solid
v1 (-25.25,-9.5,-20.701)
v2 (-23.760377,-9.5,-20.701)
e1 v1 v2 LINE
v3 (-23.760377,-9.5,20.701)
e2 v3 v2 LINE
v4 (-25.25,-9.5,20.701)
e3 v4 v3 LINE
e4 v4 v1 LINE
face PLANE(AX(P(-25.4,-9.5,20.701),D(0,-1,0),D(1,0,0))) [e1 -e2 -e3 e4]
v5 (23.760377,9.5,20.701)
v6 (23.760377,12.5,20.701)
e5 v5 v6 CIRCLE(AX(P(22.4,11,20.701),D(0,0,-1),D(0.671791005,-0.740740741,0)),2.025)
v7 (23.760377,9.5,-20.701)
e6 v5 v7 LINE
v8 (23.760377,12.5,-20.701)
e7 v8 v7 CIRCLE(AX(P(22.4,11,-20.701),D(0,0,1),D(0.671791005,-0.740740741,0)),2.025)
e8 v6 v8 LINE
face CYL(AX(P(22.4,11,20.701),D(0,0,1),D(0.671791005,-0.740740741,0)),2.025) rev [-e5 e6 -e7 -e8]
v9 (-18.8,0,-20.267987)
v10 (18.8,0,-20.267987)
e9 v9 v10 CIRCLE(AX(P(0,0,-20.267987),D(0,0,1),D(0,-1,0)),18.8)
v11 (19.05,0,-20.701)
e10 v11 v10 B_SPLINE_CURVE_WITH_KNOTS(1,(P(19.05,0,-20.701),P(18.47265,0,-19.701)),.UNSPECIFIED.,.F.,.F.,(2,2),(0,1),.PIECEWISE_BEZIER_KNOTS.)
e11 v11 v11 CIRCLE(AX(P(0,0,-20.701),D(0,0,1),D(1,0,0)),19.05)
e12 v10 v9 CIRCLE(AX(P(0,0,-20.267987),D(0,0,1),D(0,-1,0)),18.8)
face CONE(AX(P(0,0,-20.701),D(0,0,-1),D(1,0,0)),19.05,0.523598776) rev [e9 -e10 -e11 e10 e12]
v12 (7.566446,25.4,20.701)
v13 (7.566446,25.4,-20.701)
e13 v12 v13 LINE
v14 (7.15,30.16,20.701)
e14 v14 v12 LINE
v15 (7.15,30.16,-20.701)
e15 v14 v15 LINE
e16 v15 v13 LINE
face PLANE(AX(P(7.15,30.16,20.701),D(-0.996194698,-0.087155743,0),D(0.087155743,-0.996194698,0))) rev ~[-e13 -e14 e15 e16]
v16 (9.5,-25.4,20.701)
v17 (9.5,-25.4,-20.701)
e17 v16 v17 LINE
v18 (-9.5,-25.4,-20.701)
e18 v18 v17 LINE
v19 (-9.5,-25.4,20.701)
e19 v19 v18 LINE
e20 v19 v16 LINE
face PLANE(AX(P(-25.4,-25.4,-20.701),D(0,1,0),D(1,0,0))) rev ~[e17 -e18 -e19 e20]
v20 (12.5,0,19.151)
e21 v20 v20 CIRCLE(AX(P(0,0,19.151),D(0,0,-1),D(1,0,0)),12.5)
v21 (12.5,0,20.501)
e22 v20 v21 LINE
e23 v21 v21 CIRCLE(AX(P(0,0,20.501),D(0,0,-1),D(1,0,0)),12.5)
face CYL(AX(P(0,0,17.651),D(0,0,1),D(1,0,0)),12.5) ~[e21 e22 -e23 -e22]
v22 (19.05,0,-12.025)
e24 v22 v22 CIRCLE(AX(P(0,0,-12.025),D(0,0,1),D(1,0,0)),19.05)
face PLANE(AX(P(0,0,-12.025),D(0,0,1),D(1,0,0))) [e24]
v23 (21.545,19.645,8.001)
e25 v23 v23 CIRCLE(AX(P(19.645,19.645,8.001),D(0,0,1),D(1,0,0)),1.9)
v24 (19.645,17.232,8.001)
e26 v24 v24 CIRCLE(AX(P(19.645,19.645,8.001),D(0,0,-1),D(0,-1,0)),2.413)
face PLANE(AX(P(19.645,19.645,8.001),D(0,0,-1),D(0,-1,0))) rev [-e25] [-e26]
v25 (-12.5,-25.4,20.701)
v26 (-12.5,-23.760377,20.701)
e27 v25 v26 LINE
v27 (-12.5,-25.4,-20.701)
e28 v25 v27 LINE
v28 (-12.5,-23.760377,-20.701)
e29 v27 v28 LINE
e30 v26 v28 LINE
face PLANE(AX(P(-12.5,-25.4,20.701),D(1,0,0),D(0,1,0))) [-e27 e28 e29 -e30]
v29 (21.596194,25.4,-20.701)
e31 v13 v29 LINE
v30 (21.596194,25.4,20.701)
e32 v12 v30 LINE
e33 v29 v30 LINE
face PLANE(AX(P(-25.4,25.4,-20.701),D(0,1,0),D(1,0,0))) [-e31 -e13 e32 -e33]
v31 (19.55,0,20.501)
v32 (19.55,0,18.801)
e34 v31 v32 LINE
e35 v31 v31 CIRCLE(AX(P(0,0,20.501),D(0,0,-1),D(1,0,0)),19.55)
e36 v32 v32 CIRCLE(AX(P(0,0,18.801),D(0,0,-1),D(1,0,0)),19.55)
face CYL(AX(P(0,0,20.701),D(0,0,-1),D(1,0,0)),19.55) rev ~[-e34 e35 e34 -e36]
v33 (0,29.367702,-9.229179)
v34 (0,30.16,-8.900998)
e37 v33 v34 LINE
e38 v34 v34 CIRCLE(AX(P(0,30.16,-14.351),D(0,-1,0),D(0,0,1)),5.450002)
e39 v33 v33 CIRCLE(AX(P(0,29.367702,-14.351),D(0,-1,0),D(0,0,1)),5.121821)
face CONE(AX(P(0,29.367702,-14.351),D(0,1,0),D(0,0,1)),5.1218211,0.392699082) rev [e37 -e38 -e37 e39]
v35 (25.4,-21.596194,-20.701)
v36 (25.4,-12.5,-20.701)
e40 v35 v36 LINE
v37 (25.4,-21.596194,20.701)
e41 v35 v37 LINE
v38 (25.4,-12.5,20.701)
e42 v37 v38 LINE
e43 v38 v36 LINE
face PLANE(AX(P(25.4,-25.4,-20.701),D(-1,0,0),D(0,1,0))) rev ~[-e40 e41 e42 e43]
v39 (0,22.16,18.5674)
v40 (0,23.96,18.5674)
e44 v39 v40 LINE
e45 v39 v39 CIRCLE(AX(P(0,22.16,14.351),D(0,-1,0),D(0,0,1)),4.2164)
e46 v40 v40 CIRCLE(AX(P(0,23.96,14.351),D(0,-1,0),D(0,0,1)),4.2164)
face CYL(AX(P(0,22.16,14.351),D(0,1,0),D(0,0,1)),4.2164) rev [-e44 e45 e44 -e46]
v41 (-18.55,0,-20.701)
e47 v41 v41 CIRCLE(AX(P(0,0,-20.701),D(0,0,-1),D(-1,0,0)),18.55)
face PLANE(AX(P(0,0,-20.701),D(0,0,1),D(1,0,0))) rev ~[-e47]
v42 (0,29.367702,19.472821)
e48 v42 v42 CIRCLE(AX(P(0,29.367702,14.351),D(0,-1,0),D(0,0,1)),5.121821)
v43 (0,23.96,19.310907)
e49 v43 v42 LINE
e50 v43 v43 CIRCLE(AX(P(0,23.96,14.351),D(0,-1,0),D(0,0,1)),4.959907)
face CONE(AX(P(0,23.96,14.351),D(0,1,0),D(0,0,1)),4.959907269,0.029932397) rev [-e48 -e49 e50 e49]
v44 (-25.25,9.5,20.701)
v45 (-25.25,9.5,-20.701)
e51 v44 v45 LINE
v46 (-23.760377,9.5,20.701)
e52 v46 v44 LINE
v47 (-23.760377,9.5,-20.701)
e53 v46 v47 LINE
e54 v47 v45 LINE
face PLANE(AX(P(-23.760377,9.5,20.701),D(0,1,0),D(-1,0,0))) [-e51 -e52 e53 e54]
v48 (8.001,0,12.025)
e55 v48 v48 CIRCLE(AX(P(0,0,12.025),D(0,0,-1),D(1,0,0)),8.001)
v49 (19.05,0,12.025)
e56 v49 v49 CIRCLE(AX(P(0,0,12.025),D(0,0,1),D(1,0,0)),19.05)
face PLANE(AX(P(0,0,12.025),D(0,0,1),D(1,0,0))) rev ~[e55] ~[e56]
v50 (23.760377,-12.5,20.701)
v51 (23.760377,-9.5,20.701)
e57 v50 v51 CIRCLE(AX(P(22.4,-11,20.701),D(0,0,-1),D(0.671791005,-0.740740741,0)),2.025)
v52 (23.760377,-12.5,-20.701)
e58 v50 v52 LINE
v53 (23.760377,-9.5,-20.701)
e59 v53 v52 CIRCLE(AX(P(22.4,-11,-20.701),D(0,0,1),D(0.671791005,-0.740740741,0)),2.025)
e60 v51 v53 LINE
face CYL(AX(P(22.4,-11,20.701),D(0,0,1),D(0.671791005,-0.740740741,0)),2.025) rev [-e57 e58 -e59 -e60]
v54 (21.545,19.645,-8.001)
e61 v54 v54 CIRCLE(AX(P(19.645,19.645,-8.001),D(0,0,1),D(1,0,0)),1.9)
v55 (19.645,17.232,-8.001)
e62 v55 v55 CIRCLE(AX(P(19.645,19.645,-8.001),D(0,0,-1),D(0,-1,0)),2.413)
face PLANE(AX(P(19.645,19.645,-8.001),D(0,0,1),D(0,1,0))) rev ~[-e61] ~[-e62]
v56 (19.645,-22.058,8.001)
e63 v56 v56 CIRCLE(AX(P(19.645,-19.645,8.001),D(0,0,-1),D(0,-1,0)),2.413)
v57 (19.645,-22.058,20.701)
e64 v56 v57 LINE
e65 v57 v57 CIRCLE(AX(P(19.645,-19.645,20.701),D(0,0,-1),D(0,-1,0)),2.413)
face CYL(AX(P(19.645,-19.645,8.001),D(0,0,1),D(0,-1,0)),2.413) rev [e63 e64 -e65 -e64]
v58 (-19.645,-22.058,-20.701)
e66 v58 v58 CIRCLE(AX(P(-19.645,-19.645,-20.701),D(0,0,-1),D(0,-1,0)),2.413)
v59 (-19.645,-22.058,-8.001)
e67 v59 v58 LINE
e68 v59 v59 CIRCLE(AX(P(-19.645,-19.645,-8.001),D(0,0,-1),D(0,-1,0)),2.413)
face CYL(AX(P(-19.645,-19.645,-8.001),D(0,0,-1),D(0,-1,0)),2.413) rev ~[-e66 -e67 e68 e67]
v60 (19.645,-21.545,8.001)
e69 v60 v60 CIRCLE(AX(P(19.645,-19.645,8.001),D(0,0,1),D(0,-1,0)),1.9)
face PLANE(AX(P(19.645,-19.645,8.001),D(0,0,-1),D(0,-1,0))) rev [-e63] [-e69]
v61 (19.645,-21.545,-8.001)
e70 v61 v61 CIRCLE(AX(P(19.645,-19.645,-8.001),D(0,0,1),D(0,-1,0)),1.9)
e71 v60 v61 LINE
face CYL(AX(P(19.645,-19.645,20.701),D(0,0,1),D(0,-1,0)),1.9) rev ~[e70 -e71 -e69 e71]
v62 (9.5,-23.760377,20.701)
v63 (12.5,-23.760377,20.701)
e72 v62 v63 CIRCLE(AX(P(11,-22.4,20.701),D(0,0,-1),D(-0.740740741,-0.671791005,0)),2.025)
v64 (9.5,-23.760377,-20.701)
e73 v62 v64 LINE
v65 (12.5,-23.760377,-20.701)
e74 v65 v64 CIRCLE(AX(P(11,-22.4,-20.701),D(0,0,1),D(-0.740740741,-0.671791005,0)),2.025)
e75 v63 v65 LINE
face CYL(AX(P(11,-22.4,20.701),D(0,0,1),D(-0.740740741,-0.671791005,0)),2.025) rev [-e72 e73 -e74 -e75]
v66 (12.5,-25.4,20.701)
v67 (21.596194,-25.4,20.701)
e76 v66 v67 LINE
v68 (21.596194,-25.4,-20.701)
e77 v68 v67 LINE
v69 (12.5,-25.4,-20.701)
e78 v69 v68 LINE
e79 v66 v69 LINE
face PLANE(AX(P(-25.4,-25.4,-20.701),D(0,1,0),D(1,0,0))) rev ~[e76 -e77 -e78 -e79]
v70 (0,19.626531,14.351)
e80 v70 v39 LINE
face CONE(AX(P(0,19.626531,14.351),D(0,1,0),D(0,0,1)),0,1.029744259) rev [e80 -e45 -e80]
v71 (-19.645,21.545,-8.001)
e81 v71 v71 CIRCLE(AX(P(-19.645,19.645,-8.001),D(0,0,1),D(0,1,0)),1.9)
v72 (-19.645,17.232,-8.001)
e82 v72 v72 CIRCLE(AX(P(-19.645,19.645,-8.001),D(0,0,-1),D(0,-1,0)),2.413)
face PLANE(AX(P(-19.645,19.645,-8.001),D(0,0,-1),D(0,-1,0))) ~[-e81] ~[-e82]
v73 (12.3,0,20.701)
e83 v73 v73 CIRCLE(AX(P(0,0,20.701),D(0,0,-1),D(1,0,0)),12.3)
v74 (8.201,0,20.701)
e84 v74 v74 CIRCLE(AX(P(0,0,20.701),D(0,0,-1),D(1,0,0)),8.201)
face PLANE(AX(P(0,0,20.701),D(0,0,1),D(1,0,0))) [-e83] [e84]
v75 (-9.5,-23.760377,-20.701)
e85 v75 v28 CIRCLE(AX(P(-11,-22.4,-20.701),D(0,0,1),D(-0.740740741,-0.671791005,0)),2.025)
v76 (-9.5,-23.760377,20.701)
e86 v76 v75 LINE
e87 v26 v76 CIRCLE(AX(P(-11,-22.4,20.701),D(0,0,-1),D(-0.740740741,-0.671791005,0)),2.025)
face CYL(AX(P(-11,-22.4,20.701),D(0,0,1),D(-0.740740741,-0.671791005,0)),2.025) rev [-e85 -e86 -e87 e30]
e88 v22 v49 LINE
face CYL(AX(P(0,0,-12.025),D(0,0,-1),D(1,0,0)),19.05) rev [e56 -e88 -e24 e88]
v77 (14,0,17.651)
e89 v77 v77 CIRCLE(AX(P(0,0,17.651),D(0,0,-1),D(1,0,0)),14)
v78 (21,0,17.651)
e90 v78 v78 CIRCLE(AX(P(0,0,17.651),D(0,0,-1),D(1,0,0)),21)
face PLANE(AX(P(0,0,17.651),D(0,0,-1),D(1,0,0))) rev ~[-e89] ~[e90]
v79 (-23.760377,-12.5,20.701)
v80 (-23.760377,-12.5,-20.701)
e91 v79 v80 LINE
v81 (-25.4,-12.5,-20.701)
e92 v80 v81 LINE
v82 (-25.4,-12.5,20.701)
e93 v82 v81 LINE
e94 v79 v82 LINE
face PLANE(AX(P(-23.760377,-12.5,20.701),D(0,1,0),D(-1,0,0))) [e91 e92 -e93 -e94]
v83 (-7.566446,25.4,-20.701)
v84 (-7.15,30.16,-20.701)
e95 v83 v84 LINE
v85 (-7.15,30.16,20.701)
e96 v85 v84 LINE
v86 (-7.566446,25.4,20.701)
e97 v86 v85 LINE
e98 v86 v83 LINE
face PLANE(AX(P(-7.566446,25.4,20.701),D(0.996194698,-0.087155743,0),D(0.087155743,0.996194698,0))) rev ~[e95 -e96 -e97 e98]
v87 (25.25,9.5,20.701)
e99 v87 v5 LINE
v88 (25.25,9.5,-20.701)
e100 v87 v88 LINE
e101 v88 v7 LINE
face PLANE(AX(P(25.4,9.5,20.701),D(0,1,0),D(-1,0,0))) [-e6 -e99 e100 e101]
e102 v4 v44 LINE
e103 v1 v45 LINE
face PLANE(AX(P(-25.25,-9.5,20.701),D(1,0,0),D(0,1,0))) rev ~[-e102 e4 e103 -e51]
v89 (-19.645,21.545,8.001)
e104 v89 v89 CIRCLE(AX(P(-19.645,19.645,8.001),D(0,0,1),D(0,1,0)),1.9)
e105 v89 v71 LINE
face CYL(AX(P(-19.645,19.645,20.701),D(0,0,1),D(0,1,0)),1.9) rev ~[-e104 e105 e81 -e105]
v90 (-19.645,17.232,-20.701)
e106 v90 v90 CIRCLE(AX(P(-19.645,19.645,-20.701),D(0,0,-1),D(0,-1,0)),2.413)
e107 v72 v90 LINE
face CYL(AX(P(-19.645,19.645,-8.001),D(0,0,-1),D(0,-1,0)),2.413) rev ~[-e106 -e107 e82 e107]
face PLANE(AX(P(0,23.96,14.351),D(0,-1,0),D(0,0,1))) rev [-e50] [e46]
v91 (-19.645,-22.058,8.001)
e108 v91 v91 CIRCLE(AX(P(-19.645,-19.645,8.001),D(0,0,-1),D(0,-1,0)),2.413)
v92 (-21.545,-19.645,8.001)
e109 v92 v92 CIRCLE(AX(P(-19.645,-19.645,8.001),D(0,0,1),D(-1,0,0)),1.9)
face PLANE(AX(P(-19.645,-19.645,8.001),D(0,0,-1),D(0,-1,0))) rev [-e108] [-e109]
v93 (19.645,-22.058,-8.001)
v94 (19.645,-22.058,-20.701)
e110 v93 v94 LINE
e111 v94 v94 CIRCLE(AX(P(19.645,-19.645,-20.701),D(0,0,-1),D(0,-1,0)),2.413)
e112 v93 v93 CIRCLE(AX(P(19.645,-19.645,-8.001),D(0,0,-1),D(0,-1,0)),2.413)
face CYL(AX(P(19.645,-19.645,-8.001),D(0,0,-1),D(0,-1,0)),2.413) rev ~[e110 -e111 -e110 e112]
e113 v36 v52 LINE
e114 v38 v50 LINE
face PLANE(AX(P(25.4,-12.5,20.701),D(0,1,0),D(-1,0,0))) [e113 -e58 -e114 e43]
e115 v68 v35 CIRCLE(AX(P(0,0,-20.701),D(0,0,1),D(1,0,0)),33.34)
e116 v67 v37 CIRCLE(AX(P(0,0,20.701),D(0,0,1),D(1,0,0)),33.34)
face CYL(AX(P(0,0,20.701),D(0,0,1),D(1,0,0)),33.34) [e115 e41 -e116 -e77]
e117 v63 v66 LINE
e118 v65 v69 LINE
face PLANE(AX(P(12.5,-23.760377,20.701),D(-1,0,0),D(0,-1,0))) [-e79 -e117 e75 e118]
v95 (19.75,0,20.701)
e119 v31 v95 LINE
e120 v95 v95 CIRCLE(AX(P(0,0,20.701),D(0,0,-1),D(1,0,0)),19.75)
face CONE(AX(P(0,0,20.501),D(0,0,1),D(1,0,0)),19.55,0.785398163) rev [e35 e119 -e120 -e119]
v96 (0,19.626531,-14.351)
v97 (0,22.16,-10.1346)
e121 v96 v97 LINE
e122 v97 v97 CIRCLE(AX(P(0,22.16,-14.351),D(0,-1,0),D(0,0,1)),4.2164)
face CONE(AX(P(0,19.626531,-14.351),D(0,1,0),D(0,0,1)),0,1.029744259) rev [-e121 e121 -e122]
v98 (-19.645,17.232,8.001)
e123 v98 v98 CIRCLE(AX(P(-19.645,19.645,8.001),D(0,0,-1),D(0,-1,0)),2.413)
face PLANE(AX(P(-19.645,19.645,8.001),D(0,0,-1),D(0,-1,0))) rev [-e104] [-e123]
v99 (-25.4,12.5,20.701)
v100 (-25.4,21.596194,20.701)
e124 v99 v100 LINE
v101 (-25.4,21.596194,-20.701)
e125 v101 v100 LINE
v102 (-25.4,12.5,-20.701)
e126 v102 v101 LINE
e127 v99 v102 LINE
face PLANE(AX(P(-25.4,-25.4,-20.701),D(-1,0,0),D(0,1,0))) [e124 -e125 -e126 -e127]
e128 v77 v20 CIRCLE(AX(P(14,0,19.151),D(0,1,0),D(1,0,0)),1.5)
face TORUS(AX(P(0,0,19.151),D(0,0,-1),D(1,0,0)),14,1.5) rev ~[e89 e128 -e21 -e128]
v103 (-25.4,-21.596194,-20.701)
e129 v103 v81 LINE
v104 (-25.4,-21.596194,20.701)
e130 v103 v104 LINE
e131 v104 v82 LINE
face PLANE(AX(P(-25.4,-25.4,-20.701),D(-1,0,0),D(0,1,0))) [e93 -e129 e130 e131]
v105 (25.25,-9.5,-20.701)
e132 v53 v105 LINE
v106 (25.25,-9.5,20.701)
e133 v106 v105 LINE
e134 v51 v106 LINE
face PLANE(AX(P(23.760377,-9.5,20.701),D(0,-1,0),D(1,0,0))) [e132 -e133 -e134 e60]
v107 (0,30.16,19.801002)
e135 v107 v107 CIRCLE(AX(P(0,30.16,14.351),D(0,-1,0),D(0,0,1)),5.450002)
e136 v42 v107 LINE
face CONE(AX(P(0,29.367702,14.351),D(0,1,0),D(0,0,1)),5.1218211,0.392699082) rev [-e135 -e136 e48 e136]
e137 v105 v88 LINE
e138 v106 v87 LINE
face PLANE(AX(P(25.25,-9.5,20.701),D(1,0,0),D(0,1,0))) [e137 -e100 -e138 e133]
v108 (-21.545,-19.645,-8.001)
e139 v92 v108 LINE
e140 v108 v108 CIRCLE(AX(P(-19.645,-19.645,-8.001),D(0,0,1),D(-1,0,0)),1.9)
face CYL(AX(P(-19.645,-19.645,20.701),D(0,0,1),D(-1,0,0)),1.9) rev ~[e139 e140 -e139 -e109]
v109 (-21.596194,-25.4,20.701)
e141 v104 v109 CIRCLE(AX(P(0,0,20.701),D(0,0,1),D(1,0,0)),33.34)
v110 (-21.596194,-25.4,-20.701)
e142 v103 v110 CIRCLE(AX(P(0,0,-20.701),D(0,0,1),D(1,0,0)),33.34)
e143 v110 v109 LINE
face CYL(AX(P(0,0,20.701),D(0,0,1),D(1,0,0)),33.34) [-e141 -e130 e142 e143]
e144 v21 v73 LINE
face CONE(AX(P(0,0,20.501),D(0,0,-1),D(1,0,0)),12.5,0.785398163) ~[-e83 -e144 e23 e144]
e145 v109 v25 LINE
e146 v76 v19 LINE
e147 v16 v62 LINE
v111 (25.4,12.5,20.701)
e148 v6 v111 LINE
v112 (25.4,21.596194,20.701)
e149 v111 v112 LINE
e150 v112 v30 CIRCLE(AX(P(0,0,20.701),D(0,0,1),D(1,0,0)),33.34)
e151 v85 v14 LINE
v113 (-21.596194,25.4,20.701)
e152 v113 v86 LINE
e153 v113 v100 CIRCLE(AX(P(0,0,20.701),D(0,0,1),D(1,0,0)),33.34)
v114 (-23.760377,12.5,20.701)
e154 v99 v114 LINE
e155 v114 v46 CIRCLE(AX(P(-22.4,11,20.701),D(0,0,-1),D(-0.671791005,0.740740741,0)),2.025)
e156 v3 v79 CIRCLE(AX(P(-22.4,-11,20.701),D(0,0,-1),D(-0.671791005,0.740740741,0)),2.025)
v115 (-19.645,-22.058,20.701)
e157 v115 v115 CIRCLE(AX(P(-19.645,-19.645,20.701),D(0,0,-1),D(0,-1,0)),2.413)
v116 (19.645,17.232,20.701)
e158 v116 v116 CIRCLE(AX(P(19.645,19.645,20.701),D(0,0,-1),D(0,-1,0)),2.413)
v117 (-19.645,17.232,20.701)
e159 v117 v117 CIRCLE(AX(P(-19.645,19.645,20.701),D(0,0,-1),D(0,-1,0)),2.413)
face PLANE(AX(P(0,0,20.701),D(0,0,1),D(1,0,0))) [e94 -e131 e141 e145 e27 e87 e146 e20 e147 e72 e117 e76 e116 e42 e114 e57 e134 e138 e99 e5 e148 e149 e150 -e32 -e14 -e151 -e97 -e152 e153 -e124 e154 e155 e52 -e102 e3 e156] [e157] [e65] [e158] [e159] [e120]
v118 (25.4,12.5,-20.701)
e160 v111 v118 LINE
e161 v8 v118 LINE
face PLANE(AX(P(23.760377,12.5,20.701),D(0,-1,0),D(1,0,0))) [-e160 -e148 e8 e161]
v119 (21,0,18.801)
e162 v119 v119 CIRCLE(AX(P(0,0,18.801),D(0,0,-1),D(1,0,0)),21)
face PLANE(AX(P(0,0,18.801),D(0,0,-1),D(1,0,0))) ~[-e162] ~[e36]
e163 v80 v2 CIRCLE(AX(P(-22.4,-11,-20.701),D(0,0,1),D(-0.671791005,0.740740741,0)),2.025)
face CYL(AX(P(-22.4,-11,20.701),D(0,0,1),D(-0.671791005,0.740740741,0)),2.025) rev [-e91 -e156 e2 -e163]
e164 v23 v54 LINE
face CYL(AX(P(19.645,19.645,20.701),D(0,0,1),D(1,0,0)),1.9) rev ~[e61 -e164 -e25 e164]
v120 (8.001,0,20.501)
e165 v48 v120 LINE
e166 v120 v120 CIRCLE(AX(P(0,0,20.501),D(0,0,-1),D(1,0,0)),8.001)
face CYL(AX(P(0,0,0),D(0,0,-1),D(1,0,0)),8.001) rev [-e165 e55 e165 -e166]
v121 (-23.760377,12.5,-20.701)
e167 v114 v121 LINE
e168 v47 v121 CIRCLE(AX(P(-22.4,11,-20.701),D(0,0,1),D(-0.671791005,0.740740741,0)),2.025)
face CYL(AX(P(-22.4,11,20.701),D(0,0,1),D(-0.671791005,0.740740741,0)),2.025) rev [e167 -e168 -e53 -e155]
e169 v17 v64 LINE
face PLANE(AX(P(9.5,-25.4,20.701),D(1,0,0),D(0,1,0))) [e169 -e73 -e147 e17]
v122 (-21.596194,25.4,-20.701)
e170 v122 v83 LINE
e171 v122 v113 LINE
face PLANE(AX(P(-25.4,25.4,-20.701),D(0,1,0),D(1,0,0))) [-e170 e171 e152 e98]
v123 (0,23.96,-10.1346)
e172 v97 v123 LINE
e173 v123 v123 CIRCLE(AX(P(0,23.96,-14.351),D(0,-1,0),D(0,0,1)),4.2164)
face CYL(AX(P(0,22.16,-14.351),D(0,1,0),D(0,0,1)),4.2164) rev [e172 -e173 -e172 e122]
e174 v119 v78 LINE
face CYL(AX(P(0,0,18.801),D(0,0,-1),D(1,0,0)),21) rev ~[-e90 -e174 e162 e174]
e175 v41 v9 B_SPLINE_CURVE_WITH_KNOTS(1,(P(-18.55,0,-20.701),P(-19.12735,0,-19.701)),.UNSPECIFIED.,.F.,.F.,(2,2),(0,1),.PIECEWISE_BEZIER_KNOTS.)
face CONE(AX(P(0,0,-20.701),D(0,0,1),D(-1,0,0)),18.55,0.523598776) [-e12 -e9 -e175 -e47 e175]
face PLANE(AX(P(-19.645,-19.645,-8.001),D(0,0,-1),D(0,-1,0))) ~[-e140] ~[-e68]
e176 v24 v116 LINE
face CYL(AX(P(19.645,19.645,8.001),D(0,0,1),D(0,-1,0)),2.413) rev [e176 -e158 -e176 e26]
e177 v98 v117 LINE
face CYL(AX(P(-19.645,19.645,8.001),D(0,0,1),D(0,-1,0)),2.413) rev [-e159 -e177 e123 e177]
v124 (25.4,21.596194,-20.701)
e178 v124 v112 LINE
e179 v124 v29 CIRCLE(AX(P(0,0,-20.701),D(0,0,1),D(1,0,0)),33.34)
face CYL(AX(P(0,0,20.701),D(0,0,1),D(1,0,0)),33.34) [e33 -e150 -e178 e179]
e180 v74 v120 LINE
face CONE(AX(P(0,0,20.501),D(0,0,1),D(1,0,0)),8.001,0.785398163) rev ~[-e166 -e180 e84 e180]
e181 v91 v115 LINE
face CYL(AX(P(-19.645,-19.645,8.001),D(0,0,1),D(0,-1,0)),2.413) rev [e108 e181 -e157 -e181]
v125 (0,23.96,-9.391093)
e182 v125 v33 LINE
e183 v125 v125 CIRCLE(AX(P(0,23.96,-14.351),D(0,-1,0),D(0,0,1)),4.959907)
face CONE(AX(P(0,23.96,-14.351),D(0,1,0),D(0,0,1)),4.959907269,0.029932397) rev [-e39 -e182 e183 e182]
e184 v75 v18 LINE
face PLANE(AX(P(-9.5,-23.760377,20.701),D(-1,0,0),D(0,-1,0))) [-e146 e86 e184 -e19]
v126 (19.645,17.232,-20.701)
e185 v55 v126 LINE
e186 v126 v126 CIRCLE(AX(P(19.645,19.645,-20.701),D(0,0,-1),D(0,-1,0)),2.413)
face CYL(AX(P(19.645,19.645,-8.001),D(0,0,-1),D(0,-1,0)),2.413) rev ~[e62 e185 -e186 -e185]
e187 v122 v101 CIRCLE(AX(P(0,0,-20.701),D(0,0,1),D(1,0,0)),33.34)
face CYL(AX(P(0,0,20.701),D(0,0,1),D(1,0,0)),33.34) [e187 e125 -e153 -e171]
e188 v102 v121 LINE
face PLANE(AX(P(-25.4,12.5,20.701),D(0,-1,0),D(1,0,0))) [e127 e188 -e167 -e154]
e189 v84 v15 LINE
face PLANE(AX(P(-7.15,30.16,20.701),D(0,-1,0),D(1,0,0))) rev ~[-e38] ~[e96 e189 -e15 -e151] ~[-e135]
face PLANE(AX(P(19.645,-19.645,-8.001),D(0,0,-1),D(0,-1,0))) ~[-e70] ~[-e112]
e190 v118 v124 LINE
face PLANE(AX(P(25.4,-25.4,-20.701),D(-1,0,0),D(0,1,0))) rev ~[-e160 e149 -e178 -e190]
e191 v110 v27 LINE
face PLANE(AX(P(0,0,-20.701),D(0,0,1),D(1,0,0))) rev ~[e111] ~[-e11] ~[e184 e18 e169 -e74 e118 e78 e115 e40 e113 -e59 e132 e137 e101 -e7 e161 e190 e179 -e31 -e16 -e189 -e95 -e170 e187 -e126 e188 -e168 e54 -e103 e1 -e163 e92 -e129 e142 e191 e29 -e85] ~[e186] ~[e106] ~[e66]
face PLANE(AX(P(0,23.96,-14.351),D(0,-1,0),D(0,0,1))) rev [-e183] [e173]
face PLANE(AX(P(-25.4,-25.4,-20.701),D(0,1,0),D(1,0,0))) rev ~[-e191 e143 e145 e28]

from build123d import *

# Parameters (mm, degrees)
EXTRUDE1_DEPTH                               = 20.701
EXTRUDE1_DEPTH_BACK                          = 20.701
SKETCH1_W                                    = 50.8
SKETCH1_H                                    = 50.8
F_056_250_NOSE_CHAMFER_R                     = 1.5
SKETCH13_R                                   = 35.921024484
SKETCH13_R_2                                 = 33.34
F_075_250_TUBE_EDGE_ROUNDOVER_DEPTH          = 55.812823354
F_075_250_PORT_BOSS_DEPTH                    = 41.402
F_106_200_PORT_1_8_NPT_AT_2_COUNT            = 2
F_106_200_PORT_1_8_NPT_AT_2_PITCH            = 28.702
F_075_250_SWITCH_GROOVE_DEPTH                = 58.174392905
F_075_106_SWITCH_GROOVE_CIRC_PATTERN_COUNT   = 3
F_075_106_SWITCH_GROOVE_CIRC_PATTERN_ANGLE   = 180
SKETCH19_W                                   = 0.15
SKETCH19_H                                   = 19
F_075_250_THIN_SIDE_CUTS_DEPTH               = 58.174392905
SKETCH20_R                                   = 1.9
F_075_250_MOUNT_THRU_HOLE_DEPTH              = 58.174392905
F_075_250_MOUNT_THRU_HOLE_CIRC_PATTERN_COUNT = 4
F_150_10_24_A_MOUNT_TAPPED_AT_2_COUNT        = 2
F_150_10_24_A_MOUNT_TAPPED_AT_2_PITCH        = 39.29
F_150_10_24_A_MOUNT_TAPPED_AT_3_COUNT        = 2
F_150_10_24_A_MOUNT_TAPPED_AT_3_PITCH        = 55.564450866
F_150_10_24_A_MOUNT_TAPPED_AT_4_COUNT        = 2
F_150_10_24_A_MOUNT_TAPPED_AT_4_PITCH        = 39.29
F_056_250_START                              = -12.025
SKETCH22_R                                   = 19.05
F_056_250_STROKE_CHAMBER_DEPTH               = 24.05
SKETCH23_R                                   = 8.001
F_056_250_ROD_THRU_BORE_DEPTH                = 45.534447353
SKETCH41_R                                   = 19.05
SKETCH41_R_2                                 = 18.55
END_PLATE_DEPTH                              = 1
END_PLATE_TAPER                              = 30
F_056_250_COLLAR_CHAMFER_SIZE                = 0.2


with BuildPart() as part:
    # Sketch1 → Extrude1 (new, two sides: drawn at the far end of the back side and taken through both)
    with BuildSketch(Plane.XY.offset(-EXTRUDE1_DEPTH_BACK)):
        Rectangle(SKETCH1_W, SKETCH1_H)
    extrude(amount=EXTRUDE1_DEPTH + EXTRUDE1_DEPTH_BACK)

    # Sketch33 → 056-250 Front Recess (revolve, cut)
    with BuildSketch(Plane(origin=(0, 0, 0), x_dir=(0, 0, -1), z_dir=(1, 0, 0)), mode=Mode.PRIVATE) as f_056_250_front_recess_sk:
        Polygon((-20.701, 19.55), (-18.801, 19.55), (-18.801, 21), (-17.651, 21), (-17.651, 12.5), (-20.701, 12.5), align=None)
    revolve(f_056_250_front_recess_sk.sketch.rotate(Axis((0, 0, 61.220394237), (0, 0, -1)), 90), axis=Axis((0, 0, 61.220394237), (0, 0, -1)), mode=Mode.SUBTRACT)

    # 056-250 Nose Chamfer
    f_056_250_nose_chamfer_edges = [part.edges().sort_by_distance(p)[0] for p in [
        (-12.5, 0, 17.651),
    ]]
    fillet(f_056_250_nose_chamfer_edges, radius=F_056_250_NOSE_CHAMFER_R)

    # Sketch13 → 075-250 Tube Edge Roundover (cut, through all)
    with BuildSketch(Plane.XY.offset(20.701)):
        Circle(SKETCH13_R)
        Circle(SKETCH13_R_2, mode=Mode.SUBTRACT)
    extrude(amount=-F_075_250_TUBE_EDGE_ROUNDOVER_DEPTH, mode=Mode.SUBTRACT)

    # Sketch14 → 075-250 Port Boss (add)
    with BuildSketch(Plane.XY.offset(20.701)):
        Polygon((-7.15, 30.16), (7.15, 30.16), (7.566446038, 25.4), (-7.566446038, 25.4), align=None)
    extrude(amount=-F_075_250_PORT_BOSS_DEPTH)

    # Sketch36 → 106-200 Port 1/8 NPT (revolve, cut)
    with BuildSketch(Plane(origin=(0, 30.16, 14.351), x_dir=(0, 0, 1), z_dir=(1, 0, 0))):
        Polygon((0, 0), (0, 10.533468714), (4.2164, 8), (4.2164, 6.2), (4.959907269, 6.2), (5.1218211, 0.792298297), (5.4500018, 0), align=None)
    f_106_200_port_1_8_npt = revolve(axis=Axis((0, 36.51, 14.351), (0, -1, 0)), mode=Mode.SUBTRACT)

    # 106-200 Port 1/8 NPT at 2: 106-200 Port 1/8 NPT ×2
    with Locations(*[(0, 0, -i * F_106_200_PORT_1_8_NPT_AT_2_PITCH) for i in range(1, F_106_200_PORT_1_8_NPT_AT_2_COUNT)]):
        add(f_106_200_port_1_8_npt, mode=Mode.SUBTRACT)

    # Sketch15 → 075-250 Switch Groove (cut, through all)
    with BuildSketch(Plane.XY.offset(20.701)):
        with BuildLine():
            Line((-25.4, 12.5), (-23.760376786, 12.5))
            ThreePointArc((-23.760376786, 12.5), (-20.375, 11), (-23.760376786, 9.5))
            Line((-23.760376786, 9.5), (-25.4, 9.5))
            Line((-25.4, 9.5), (-25.4, 12.5))
        make_face()
        with BuildLine():
            Line((-25.4, -12.5), (-25.4, -9.5))
            Line((-25.4, -9.5), (-23.760376786, -9.5))
            ThreePointArc((-23.760376786, -9.5), (-20.375, -11), (-23.760376786, -12.5))
            Line((-23.760376786, -12.5), (-25.4, -12.5))
        make_face()
    f_075_250_switch_groove = extrude(amount=-F_075_250_SWITCH_GROOVE_DEPTH, mode=Mode.SUBTRACT)

    # 075-106 Switch Groove Circ Pattern: 075-250 Switch Groove ×3 about axis
    f_075_106_switch_groove_circ_pattern_axis = Axis((0, 0, 0), (0, 0, 1))
    for i in range(1, F_075_106_SWITCH_GROOVE_CIRC_PATTERN_COUNT):
        add(f_075_250_switch_groove.rotate(f_075_106_switch_groove_circ_pattern_axis, i * F_075_106_SWITCH_GROOVE_CIRC_PATTERN_ANGLE / (F_075_106_SWITCH_GROOVE_CIRC_PATTERN_COUNT - 1)), mode=Mode.SUBTRACT)

    # Sketch19 → 075-250 Thin Side Cuts (cut, through all)
    with BuildSketch(Plane.XY.offset(20.701)):
        with Locations((25.325, 0)):
            Rectangle(SKETCH19_W, SKETCH19_H)
        with Locations((-25.325, 0)):
            Rectangle(SKETCH19_W, SKETCH19_H)
    extrude(amount=-F_075_250_THIN_SIDE_CUTS_DEPTH, mode=Mode.SUBTRACT)

    # Sketch20 → 075-250 Mount Thru Hole (cut, through all)
    with BuildSketch(Plane.XY.offset(20.701)):
        with Locations((19.645, 19.645)):
            Circle(SKETCH20_R)
    f_075_250_mount_thru_hole = extrude(amount=-F_075_250_MOUNT_THRU_HOLE_DEPTH, mode=Mode.SUBTRACT)

    # 075-250 Mount Thru Hole Circ Pattern: 075-250 Mount Thru Hole ×4 about axis
    f_075_250_mount_thru_hole_circ_pattern_axis = Axis((0, 0, 0), (0, 0, 1))
    for i in range(1, F_075_250_MOUNT_THRU_HOLE_CIRC_PATTERN_COUNT):
        add(f_075_250_mount_thru_hole.rotate(f_075_250_mount_thru_hole_circ_pattern_axis, i * 360 / F_075_250_MOUNT_THRU_HOLE_CIRC_PATTERN_COUNT), mode=Mode.SUBTRACT)

    # Sketch28 → 150 #10-24 A Mount Tapped (revolve, cut)
    with BuildSketch(Plane(origin=(19.645, 19.645, 20.701), x_dir=(0, -1, 0), z_dir=(1, 0, 0))):
        Polygon((0, 0), (0, 17.018324014), (1.89865, 15.8775), (1.89865, 12.7), (2.413, 12.7), (2.413, 0), align=None)
    f_150_10_24_a_mount_tapped = revolve(axis=Axis((19.645, 19.645, 27.051), (0, 0, -1)), mode=Mode.SUBTRACT)

    # 150 #10-24 A Mount Tapped at 2: 150 #10-24 A Mount Tapped ×2
    with Locations(*[(-i * F_150_10_24_A_MOUNT_TAPPED_AT_2_PITCH, 0, 0) for i in range(1, F_150_10_24_A_MOUNT_TAPPED_AT_2_COUNT)]):
        add(f_150_10_24_a_mount_tapped, mode=Mode.SUBTRACT)

    # 150 #10-24 A Mount Tapped at 3: 150 #10-24 A Mount Tapped ×2
    with Locations(*[Vector(-0.7071067811865451, -0.7071067811865499, 0) * (i * F_150_10_24_A_MOUNT_TAPPED_AT_3_PITCH) for i in range(1, F_150_10_24_A_MOUNT_TAPPED_AT_3_COUNT)]):
        add(f_150_10_24_a_mount_tapped, mode=Mode.SUBTRACT)

    # 150 #10-24 A Mount Tapped at 4: 150 #10-24 A Mount Tapped ×2
    with Locations(*[(0, -i * F_150_10_24_A_MOUNT_TAPPED_AT_4_PITCH, 0) for i in range(1, F_150_10_24_A_MOUNT_TAPPED_AT_4_COUNT)]):
        add(f_150_10_24_a_mount_tapped, mode=Mode.SUBTRACT)

    # 150 #10-24 A Mount Tapped to Rear: 150 #10-24 A Mount Tapped across plane
    add(f_150_10_24_a_mount_tapped.mirror(Plane.XY), mode=Mode.SUBTRACT)

    # 150 #10-24 A Mount Tapped to Rear copy 1 → 150 #10-24 A Mount Tapped to Rear co 2 (revolve, cut)
    with BuildSketch(Plane(origin=(-19.645, 19.645, -20.701), x_dir=(0, -1, 0), z_dir=(1, 0, 0))):
        Polygon((0, 0), (0, -17.018324014), (1.89865, -15.8775), (1.89865, -12.7), (2.413, -12.7), (2.413, 0), align=None)
    revolve(axis=Axis((-19.645, 19.645, -27.051), (0, 0, -1)), mode=Mode.SUBTRACT)

    # 150 #10-24 A Mount Tapped to Rear copy 2 → 150 #10-24 A Mount Tapped to Rear co 3 (revolve, cut)
    with BuildSketch(Plane(origin=(-19.645, -19.645, -20.701), x_dir=(0, -1, 0), z_dir=(1, 0, 0))):
        Polygon((0, 0), (0, -17.018324014), (1.89865, -15.8775), (1.89865, -12.7), (2.413, -12.7), (2.413, 0), align=None)
    revolve(axis=Axis((-19.645, -19.645, -27.051), (0, 0, -1)), mode=Mode.SUBTRACT)

    # 150 #10-24 A Mount Tapped to Rear copy 3 → 150 #10-24 A Mount Tapped to Rear co 4 (revolve, cut)
    with BuildSketch(Plane(origin=(19.645, -19.645, -20.701), x_dir=(0, -1, 0), z_dir=(1, 0, 0))):
        Polygon((0, 0), (0, -17.018324014), (1.89865, -15.8775), (1.89865, -12.7), (2.413, -12.7), (2.413, 0), align=None)
    revolve(axis=Axis((19.645, -19.645, -27.051), (0, 0, -1)), mode=Mode.SUBTRACT)

    # Sketch22 → 056-250 Stroke Chamber (cut)
    with BuildSketch(Plane.XY.offset(F_056_250_START)):
        Circle(SKETCH22_R)
    extrude(amount=F_056_250_STROKE_CHAMBER_DEPTH, mode=Mode.SUBTRACT)

    # Sketch23 → 056-250 Rod Thru Bore (cut, through all)
    with BuildSketch(Plane.XY):
        Circle(SKETCH23_R)
    extrude(amount=F_056_250_ROD_THRU_BORE_DEPTH, mode=Mode.SUBTRACT)

    # Sketch41 → End Plate (cut)
    with BuildSketch(Plane(origin=(0, 0, -20.701), x_dir=(-1, 0, 0), z_dir=(0, 0, -1))):
        with Locations(Location((0, 0, 0), (0, 0, 180))):
            Circle(SKETCH41_R)
        Circle(SKETCH41_R_2, mode=Mode.SUBTRACT)
    extrude(amount=-END_PLATE_DEPTH, taper=END_PLATE_TAPER, mode=Mode.SUBTRACT)

    # 056-250 Collar Chamfer
    f_056_250_collar_chamfer_edges = [part.edges().sort_by_distance(p)[0] for p in [
        (-19.55, 0, 20.701),
        (-12.5, 0, 20.701),
        (-8.001, 0, 20.701),
    ]]
    chamfer(f_056_250_collar_chamfer_edges, length=F_056_250_COLLAR_CHAMFER_SIZE)


solid = part.part
